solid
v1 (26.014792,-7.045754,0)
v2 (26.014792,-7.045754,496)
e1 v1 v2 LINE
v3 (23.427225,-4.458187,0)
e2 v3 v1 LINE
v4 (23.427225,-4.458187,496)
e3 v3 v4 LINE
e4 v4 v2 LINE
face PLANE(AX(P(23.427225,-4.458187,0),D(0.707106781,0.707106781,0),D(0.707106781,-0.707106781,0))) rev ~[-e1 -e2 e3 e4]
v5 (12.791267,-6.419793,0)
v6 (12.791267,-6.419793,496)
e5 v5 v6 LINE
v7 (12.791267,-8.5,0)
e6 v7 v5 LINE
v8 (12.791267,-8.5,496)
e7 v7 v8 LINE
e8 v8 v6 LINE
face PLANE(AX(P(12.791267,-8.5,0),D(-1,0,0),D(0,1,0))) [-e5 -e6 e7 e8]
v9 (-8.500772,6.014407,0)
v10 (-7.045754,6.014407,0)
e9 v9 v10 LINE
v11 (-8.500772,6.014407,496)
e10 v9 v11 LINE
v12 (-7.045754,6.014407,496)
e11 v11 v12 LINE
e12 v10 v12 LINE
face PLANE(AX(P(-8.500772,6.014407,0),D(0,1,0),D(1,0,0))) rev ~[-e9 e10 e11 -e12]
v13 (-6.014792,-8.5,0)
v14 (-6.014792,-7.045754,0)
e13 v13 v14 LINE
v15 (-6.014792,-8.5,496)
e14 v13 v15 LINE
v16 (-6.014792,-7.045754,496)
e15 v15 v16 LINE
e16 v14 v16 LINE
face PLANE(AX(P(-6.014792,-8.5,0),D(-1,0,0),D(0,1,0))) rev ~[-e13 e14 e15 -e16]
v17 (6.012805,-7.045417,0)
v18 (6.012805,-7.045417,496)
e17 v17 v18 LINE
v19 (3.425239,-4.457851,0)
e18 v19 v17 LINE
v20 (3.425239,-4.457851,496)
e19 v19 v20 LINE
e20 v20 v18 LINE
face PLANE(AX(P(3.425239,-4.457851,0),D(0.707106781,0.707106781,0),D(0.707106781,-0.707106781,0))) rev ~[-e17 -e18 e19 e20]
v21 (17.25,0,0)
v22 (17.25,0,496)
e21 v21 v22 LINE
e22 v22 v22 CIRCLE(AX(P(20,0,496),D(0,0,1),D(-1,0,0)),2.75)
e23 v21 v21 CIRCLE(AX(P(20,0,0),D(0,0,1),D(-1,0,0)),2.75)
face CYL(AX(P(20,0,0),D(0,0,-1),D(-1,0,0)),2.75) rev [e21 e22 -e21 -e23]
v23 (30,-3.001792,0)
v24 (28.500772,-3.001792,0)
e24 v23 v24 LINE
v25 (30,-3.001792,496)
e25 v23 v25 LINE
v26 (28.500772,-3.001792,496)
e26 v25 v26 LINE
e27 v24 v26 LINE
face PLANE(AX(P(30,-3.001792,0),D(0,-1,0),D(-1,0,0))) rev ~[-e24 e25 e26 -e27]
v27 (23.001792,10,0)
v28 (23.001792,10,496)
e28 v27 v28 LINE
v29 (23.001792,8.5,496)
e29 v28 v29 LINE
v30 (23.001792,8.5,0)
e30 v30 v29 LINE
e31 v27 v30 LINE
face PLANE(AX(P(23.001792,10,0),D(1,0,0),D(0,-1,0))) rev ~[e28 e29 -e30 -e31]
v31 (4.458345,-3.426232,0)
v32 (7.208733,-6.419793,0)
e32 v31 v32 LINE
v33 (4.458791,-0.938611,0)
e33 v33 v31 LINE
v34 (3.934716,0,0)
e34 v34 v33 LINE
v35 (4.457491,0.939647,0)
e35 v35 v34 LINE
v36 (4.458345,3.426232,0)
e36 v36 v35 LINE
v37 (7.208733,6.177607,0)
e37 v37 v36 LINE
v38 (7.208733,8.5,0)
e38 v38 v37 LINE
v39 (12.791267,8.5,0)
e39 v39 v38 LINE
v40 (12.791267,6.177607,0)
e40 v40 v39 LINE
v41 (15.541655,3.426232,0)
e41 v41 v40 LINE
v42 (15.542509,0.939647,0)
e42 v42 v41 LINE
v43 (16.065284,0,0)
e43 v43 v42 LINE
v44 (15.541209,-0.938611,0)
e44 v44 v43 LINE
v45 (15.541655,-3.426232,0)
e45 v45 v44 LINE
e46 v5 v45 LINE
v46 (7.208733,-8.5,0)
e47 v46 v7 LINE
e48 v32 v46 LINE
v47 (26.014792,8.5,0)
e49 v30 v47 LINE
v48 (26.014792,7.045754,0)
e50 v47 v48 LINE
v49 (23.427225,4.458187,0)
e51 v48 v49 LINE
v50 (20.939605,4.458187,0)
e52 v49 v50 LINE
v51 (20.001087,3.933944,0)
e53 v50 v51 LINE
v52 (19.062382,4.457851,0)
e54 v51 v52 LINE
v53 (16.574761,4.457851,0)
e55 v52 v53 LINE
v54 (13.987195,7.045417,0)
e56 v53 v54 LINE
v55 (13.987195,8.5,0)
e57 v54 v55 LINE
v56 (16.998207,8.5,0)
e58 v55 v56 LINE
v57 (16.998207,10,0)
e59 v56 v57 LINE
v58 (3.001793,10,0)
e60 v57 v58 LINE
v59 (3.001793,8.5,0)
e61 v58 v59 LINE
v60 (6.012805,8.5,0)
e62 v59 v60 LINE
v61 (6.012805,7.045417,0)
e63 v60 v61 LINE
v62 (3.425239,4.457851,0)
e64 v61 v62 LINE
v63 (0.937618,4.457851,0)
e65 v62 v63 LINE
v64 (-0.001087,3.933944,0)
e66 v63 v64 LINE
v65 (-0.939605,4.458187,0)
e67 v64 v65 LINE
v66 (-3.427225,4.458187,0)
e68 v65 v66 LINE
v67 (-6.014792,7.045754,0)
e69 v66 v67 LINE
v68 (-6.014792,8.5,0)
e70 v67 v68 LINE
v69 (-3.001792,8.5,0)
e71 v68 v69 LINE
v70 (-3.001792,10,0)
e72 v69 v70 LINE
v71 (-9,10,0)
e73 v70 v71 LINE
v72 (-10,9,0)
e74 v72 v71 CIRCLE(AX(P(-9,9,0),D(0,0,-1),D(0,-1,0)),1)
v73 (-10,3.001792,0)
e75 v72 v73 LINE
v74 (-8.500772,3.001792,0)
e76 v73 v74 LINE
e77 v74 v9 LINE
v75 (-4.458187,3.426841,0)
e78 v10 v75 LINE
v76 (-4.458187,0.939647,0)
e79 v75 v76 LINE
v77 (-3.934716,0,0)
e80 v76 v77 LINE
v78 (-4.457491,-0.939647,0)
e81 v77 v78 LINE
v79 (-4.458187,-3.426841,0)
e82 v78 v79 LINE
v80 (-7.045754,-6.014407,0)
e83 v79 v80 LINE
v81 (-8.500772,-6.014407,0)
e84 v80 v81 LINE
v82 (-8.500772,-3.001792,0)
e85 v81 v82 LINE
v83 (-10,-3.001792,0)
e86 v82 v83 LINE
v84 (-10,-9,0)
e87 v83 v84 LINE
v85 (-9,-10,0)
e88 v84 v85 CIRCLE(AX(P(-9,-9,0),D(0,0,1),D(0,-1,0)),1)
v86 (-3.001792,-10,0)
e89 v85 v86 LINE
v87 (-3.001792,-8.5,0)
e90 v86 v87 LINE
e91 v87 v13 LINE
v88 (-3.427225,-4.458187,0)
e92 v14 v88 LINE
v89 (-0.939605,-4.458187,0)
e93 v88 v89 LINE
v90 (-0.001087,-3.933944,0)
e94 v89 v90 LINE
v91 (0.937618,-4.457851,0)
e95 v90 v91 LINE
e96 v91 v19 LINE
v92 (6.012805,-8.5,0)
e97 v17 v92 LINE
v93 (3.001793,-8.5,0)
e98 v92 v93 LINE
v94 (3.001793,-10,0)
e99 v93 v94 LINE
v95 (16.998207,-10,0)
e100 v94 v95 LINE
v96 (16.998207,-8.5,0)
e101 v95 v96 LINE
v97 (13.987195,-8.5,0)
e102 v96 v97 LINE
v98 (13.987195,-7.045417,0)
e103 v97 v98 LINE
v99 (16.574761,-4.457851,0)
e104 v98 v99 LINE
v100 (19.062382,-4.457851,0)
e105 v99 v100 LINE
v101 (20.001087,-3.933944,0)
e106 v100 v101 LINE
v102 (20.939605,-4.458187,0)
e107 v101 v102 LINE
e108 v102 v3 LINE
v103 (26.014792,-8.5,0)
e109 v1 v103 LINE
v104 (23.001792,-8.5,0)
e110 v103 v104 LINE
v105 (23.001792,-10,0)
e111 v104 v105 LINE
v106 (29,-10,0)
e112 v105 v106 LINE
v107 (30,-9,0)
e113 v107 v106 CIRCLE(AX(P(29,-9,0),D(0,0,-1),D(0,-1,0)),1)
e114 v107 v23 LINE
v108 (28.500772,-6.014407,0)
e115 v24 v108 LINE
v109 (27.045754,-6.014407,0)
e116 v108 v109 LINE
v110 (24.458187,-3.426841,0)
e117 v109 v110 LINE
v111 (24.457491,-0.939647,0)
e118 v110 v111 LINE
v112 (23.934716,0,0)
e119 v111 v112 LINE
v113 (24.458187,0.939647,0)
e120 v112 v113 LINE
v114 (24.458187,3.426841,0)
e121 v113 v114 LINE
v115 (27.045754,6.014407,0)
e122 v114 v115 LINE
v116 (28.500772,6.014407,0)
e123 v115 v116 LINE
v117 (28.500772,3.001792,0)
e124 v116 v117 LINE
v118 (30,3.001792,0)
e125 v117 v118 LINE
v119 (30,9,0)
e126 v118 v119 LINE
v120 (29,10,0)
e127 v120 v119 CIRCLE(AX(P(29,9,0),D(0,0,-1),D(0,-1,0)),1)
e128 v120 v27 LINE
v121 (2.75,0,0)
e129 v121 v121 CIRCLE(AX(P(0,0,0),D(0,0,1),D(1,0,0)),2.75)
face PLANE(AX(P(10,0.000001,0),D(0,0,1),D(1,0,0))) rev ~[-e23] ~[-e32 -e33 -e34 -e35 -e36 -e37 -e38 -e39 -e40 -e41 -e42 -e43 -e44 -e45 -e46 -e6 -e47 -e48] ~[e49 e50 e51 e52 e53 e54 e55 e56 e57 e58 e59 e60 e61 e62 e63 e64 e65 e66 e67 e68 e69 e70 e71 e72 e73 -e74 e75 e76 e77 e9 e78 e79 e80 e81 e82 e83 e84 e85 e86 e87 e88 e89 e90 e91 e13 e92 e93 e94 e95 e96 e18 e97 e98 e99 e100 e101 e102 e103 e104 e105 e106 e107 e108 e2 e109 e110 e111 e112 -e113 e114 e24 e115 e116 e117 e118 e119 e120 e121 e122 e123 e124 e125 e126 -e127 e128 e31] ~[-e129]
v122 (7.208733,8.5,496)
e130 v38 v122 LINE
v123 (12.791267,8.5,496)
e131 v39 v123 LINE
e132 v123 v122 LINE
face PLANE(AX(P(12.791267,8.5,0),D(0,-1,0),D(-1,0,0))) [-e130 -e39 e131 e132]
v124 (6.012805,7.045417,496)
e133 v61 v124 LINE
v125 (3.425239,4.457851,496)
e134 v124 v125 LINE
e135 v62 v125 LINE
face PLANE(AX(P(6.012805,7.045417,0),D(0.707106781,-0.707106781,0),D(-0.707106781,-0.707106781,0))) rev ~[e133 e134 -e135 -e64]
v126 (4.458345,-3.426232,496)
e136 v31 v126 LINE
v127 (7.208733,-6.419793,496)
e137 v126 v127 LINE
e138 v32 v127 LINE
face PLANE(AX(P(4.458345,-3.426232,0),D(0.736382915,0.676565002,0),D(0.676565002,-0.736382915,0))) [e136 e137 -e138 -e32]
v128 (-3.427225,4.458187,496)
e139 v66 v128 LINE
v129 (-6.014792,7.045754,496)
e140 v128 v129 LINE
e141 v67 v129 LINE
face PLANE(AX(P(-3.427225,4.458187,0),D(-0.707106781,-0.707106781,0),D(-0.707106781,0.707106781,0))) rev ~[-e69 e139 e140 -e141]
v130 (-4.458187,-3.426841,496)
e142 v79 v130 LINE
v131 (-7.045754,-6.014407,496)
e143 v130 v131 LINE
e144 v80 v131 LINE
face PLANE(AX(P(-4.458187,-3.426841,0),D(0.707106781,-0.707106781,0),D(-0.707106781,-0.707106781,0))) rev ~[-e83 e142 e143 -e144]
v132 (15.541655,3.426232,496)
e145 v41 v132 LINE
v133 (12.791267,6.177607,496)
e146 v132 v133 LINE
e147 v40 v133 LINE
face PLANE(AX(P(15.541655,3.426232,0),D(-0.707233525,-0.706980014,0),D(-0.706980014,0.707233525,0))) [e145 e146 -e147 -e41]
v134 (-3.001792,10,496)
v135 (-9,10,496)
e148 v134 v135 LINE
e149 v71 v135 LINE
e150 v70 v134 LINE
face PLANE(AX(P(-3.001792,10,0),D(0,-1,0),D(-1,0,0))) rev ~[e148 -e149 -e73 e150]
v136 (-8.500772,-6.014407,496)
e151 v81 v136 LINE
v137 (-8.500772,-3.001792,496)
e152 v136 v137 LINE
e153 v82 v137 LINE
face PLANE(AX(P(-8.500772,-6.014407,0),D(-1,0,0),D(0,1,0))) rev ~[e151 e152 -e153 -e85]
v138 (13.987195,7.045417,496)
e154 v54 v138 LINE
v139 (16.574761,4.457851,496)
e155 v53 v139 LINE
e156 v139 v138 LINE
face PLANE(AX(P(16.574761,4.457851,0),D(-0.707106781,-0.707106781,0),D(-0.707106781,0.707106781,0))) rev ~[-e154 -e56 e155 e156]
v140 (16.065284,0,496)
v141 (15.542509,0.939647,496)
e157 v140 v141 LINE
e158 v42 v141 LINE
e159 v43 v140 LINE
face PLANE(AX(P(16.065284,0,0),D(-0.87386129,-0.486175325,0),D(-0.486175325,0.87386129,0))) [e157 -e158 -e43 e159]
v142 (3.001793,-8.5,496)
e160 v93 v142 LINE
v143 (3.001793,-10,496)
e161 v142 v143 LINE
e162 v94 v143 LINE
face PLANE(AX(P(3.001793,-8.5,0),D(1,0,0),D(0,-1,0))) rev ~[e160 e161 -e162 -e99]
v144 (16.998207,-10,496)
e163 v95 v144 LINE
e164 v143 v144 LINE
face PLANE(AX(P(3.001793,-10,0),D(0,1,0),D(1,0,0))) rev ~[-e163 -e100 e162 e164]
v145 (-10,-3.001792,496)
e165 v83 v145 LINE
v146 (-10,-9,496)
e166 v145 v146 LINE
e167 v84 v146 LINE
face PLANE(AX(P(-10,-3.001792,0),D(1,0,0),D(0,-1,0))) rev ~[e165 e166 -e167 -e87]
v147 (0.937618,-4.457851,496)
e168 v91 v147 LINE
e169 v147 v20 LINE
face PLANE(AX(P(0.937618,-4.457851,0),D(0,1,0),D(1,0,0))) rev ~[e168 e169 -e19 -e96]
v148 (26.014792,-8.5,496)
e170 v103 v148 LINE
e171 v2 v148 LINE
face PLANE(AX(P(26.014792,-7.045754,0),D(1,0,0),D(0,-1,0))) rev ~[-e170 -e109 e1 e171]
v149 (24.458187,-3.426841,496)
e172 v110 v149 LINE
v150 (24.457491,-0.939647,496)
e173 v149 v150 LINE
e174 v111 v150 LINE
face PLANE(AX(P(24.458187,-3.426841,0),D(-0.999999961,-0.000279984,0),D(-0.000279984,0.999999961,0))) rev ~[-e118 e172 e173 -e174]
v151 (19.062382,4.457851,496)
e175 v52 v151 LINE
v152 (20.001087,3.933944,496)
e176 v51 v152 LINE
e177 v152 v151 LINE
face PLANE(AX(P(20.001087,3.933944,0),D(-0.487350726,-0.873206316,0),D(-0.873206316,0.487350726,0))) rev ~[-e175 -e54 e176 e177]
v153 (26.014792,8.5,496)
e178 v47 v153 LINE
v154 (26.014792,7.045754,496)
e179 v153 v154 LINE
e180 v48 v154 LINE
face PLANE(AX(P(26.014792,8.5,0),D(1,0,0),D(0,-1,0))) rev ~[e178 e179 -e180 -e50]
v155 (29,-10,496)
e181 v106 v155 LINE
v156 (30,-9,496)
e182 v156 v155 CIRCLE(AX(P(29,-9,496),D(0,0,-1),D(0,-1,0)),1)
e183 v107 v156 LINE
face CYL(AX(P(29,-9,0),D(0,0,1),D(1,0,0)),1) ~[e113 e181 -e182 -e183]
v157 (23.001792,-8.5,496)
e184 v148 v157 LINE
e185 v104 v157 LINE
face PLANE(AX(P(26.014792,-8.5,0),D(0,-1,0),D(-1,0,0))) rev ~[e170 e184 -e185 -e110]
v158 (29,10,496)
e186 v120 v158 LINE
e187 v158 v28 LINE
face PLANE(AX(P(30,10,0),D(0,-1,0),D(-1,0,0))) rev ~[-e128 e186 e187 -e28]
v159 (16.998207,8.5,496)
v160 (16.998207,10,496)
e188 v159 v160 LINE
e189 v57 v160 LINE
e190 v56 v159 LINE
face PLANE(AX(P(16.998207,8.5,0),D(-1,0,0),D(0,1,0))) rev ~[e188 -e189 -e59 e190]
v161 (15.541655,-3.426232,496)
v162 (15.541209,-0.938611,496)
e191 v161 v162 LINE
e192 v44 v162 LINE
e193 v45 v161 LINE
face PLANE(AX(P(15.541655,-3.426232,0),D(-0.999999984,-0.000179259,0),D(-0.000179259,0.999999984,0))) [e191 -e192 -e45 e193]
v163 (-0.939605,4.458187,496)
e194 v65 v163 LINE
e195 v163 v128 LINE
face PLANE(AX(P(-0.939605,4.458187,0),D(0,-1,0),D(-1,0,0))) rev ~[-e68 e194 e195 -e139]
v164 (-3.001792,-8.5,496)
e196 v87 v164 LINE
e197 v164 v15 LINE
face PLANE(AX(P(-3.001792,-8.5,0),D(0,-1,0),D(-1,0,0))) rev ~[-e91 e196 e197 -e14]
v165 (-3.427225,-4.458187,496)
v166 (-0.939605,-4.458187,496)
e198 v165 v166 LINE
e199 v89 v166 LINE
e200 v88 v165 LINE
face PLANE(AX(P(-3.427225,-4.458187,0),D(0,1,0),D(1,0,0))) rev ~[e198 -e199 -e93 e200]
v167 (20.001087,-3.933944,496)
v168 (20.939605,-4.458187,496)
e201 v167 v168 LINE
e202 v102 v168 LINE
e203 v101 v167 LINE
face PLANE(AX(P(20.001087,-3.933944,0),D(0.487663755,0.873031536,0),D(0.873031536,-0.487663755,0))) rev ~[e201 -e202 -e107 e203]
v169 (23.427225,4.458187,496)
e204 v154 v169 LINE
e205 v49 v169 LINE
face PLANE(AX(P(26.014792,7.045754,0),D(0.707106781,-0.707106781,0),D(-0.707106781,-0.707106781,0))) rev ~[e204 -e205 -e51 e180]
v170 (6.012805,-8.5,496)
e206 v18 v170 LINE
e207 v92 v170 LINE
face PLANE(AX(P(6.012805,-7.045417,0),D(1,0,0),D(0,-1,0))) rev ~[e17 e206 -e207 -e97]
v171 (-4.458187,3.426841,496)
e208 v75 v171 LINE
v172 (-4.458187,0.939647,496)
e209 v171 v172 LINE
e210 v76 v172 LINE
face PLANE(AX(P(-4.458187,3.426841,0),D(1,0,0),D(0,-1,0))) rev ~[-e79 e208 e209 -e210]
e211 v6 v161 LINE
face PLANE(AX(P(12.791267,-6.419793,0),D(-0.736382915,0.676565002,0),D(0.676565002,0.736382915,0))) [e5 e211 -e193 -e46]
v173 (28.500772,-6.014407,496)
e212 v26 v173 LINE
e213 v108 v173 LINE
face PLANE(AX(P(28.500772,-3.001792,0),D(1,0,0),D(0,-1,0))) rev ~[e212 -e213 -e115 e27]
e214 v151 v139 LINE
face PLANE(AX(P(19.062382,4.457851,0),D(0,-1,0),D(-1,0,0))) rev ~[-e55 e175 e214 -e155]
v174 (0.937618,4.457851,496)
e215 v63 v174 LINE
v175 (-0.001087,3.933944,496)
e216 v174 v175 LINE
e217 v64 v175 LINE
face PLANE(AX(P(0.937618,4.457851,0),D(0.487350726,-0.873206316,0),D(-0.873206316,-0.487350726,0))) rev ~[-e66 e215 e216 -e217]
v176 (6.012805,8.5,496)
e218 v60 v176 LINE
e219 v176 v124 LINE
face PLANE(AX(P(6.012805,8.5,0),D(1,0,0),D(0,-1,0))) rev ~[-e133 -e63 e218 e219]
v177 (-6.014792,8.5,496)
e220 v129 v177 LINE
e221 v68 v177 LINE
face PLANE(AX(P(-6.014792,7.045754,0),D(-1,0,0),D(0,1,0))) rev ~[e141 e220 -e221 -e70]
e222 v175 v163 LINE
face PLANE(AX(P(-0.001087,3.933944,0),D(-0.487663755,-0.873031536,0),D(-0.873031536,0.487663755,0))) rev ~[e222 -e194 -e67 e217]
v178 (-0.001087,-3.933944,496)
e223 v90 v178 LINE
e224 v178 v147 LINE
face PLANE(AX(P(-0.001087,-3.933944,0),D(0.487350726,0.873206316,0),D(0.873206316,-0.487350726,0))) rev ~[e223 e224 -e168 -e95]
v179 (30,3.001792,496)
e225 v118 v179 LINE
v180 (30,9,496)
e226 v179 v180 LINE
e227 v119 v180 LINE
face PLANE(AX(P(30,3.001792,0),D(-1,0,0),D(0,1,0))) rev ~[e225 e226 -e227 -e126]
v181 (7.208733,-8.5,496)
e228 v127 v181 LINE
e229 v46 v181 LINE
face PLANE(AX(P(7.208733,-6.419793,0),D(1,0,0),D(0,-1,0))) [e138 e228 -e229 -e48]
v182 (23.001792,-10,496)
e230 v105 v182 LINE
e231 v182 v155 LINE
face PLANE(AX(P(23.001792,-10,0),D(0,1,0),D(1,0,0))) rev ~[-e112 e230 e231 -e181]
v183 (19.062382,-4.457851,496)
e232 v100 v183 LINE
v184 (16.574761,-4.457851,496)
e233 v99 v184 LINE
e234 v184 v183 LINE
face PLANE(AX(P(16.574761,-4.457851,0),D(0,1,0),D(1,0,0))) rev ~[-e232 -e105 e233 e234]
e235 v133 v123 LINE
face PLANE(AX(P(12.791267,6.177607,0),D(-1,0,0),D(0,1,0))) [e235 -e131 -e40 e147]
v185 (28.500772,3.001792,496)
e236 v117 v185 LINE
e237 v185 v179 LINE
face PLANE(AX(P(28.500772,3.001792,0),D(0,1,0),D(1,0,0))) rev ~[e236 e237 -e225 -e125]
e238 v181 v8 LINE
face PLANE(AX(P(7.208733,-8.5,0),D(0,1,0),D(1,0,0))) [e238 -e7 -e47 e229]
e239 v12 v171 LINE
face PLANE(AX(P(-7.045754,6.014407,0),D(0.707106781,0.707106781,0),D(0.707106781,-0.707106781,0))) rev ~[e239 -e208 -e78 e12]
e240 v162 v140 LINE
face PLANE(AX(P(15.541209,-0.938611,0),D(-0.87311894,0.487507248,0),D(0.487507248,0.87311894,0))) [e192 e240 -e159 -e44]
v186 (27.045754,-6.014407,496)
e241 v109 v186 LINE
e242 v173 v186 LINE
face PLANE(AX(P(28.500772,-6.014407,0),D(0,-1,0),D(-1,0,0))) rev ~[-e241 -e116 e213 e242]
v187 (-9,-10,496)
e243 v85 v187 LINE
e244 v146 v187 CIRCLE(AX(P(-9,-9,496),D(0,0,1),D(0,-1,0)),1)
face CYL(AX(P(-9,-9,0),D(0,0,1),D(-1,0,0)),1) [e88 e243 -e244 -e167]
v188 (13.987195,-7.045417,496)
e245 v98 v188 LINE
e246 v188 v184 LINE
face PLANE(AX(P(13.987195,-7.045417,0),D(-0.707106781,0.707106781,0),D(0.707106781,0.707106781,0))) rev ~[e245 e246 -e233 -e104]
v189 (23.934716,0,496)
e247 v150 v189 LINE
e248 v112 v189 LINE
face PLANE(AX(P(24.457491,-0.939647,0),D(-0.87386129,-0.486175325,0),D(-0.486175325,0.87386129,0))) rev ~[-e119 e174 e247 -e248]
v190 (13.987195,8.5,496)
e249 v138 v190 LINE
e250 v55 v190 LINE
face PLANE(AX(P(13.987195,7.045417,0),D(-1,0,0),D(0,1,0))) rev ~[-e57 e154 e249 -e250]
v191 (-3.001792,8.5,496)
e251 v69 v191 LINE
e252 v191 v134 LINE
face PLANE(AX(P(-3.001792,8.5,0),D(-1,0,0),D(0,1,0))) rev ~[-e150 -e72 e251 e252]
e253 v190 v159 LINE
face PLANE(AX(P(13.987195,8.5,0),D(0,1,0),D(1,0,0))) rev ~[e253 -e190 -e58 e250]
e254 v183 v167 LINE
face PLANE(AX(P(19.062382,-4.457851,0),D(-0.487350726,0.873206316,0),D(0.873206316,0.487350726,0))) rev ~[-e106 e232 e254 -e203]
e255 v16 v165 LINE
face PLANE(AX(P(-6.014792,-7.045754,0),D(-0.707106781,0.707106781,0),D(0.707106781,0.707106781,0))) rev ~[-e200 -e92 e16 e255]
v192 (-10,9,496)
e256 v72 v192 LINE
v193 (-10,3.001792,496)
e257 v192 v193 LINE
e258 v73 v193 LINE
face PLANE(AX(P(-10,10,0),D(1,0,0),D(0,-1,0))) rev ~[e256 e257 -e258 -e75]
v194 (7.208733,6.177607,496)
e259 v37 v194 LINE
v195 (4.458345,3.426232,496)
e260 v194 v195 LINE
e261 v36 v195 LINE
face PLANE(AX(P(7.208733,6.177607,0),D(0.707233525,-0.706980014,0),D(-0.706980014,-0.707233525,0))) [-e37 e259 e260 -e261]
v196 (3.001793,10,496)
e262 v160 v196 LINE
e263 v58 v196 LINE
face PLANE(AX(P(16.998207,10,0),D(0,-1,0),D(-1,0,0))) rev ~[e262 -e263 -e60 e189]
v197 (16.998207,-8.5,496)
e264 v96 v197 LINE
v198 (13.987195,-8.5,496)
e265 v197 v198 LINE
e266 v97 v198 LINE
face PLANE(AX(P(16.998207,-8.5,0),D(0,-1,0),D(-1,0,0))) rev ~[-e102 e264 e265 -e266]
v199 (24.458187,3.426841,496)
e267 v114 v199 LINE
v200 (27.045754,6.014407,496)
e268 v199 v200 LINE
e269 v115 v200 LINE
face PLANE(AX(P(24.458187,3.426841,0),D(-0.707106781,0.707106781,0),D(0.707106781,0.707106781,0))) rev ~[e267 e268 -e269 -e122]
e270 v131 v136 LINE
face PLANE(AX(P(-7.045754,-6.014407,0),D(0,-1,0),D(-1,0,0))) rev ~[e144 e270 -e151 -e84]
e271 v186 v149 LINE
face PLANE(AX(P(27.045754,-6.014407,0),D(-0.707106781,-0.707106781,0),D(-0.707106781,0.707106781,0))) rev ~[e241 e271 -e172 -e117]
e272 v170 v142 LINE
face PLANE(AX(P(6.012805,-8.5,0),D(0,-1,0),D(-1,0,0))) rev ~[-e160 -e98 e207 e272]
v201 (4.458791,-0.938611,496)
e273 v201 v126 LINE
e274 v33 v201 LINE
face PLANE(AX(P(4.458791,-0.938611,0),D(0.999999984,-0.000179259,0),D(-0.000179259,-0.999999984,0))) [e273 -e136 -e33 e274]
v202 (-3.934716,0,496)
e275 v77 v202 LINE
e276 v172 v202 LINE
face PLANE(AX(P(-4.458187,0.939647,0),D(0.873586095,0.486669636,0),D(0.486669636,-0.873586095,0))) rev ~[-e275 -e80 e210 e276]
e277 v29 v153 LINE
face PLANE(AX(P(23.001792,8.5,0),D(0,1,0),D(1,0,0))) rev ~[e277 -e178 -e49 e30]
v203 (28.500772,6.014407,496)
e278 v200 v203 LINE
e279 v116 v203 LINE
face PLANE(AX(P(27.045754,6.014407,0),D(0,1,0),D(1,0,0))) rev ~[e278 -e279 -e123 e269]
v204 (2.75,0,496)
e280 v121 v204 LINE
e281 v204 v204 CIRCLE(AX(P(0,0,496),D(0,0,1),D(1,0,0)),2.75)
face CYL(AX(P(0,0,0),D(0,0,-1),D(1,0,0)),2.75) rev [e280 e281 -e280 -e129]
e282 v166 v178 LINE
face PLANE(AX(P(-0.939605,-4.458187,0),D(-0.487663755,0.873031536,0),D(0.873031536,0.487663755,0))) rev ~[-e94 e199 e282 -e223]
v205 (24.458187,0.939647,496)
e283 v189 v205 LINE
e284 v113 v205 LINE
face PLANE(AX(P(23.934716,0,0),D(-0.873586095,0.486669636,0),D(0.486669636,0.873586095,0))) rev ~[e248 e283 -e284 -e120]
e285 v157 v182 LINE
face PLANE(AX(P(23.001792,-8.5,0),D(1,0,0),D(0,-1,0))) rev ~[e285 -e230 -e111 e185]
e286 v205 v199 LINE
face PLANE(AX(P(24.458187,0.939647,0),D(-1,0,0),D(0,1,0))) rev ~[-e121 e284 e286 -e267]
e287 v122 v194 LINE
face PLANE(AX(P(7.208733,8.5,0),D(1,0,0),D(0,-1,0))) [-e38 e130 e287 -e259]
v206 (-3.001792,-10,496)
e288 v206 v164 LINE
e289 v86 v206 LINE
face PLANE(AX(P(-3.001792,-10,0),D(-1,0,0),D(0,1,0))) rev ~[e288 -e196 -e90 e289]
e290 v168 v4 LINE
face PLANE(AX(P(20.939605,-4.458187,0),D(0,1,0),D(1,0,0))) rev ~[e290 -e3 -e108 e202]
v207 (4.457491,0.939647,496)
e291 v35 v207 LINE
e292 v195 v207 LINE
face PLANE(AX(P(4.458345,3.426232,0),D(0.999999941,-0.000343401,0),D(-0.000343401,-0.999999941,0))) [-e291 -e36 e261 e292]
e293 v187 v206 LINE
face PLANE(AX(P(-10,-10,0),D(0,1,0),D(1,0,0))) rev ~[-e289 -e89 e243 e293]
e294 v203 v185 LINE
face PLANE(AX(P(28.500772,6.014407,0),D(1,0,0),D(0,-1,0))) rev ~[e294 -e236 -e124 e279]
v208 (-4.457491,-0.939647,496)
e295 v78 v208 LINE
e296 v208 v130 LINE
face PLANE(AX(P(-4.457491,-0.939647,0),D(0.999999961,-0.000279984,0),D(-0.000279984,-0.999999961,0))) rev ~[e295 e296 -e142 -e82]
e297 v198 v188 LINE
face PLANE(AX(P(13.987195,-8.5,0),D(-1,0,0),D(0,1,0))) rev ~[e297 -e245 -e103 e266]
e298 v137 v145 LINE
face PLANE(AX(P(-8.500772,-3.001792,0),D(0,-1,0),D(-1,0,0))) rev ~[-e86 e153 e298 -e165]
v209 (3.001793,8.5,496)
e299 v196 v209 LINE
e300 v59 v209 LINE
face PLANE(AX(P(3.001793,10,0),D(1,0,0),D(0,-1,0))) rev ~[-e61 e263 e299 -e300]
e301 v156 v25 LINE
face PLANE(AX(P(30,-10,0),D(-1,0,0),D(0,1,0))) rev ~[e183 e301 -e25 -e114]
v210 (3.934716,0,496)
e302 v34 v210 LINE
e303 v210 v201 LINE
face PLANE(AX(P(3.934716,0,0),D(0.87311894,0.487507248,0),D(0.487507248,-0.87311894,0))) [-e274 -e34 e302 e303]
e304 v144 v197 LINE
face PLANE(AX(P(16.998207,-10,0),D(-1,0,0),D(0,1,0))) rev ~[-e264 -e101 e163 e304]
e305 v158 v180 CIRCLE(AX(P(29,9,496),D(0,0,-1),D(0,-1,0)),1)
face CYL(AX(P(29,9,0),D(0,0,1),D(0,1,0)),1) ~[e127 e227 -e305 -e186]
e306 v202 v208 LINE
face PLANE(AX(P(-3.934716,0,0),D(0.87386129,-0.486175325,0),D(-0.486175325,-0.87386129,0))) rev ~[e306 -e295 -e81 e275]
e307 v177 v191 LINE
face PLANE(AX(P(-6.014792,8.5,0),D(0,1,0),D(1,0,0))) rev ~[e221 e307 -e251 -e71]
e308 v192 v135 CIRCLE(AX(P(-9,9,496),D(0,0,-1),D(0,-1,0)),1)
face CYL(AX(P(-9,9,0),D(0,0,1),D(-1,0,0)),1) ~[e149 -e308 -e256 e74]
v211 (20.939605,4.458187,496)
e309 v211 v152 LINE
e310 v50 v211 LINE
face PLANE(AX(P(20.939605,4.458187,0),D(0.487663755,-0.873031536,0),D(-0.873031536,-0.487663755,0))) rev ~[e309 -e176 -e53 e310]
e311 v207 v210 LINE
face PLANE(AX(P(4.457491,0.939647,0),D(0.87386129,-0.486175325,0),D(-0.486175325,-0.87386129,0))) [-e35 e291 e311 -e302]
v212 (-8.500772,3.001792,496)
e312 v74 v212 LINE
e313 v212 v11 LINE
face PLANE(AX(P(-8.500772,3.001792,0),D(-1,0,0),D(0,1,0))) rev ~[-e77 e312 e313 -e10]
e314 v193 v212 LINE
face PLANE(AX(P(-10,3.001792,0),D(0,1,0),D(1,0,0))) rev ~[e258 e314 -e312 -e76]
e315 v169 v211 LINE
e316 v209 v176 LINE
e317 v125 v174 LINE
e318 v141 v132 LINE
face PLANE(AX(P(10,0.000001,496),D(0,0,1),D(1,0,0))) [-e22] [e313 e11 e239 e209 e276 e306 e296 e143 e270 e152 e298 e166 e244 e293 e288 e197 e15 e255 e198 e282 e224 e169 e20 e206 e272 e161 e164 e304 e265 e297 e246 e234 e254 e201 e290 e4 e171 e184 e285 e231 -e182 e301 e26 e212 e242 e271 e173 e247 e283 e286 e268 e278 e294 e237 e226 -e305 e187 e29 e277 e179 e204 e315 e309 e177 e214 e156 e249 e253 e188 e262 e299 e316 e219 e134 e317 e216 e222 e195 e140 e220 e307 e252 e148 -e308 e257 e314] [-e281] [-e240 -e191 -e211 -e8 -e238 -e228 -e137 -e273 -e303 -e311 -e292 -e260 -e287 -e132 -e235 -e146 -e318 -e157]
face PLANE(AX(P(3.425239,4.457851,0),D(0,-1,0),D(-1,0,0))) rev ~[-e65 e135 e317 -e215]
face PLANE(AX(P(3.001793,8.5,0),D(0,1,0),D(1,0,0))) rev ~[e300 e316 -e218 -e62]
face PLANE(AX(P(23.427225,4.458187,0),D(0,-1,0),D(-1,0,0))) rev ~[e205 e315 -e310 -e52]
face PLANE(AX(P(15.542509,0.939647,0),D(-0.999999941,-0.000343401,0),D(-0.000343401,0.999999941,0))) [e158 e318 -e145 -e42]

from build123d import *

# Parameters (mm, degrees)
SKETCH1_R           = 2.75
BOSS_EXTRUDE1_DEPTH = 496
FILLET2_R           = 1
FILLET4_R           = 1
FILLET5_R           = 1
FILLET6_R           = 1


with BuildPart() as part:
    # Sketch1 → Boss-Extrude1 (new body)
    with BuildSketch(Plane.XY):
        Polygon((-3.001792446, 10), (-10, 10), (-10, 3.001792446), (-8.500771543, 3.001792446), (-8.500771543, 6.014407427), (-7.045753692, 6.014407427), (-4.458187435, 3.426841169), (-4.458187435, 0.939646666), (-3.934715846, 0), (-4.45749106, -0.939646666), (-4.458187435, -3.426841169), (-7.045753692, -6.014407427), (-8.500771543, -6.014407427), (-8.500771543, -3.001792446), (-10, -3.001792446), (-10, -10), (-3.001792446, -10), (-3.001792446, -8.499999951), (-6.014791508, -8.499999951), (-6.014791508, -7.045753643), (-3.427225251, -4.458187385), (-0.939604714, -4.458187385), (-0.00108721, -3.933944043), (0.937618184, -4.457850876), (3.425238721, -4.457850876), (6.012804978, -7.045417133), (6.012804978, -8.500000007), (3.001792545, -8.500000007), (3.001792545, -10), (16.998207455, -10), (16.998207455, -8.500000007), (13.987195022, -8.500000007), (13.987195022, -7.045417133), (16.574761279, -4.457850876), (19.062381816, -4.457850876), (20.00108721, -3.933944043), (20.939604714, -4.458187385), (23.427225251, -4.458187385), (26.014791508, -7.045753643), (26.014791508, -8.499999951), (23.001792446, -8.499999951), (23.001792446, -10), (30, -10), (30, -3.001792446), (28.500771543, -3.001792446), (28.500771543, -6.014407427), (27.045753692, -6.014407427), (24.458187435, -3.426841169), (24.45749106, -0.939646666), (23.934715846, 0), (24.458187435, 0.939646666), (24.458187435, 3.426841169), (27.045753692, 6.014407427), (28.500771543, 6.014407427), (28.500771543, 3.001792446), (30, 3.001792446), (30, 10), (23.001792446, 10), (23.001792446, 8.499999951), (26.014791508, 8.499999951), (26.014791508, 7.045753643), (23.427225251, 4.458187385), (20.939604714, 4.458187385), (20.00108721, 3.933944043), (19.062381816, 4.457850876), (16.574761279, 4.457850876), (13.987195022, 7.045417133), (13.987195022, 8.499999951), (16.998207356, 8.499999951), (16.998207356, 10), (3.001792643, 10), (3.001792643, 8.499999951), (6.012804978, 8.499999951), (6.012804978, 7.045417133), (3.425238721, 4.457850876), (0.937618184, 4.457850876), (-0.00108721, 3.933944043), (-0.939604714, 4.458187385), (-3.427225251, 4.458187385), (-6.014791508, 7.045753643), (-6.014791508, 8.499999951), (-3.001792446, 8.499999951), align=None)
        Circle(SKETCH1_R, mode=Mode.SUBTRACT)
        with Locations(Location((20, 0, 0), (0, 0, 180))):
            Circle(SKETCH1_R, mode=Mode.SUBTRACT)
        Polygon((7.208733292, -6.419793455), (7.208733292, -8.500000007), (12.791266708, -8.500000007), (12.791266708, -6.419793455), (15.541654987, -3.426231961), (15.541209058, -0.938611464), (16.065284154, 0), (15.54250894, 0.939646666), (15.541655044, 3.426231961), (12.791266708, 6.17760654), (12.791266708, 8.499999951), (7.208733292, 8.499999951), (7.208733292, 6.17760654), (4.458344956, 3.426231961), (4.45749106, 0.939646666), (3.934715846, 0), (4.458790942, -0.938611464), (4.458345013, -3.426231961), align=None, mode=Mode.SUBTRACT)
    extrude(amount=BOSS_EXTRUDE1_DEPTH)

    # Fillet2
    fillet2_edges = [part.edges().sort_by_distance(p)[0] for p in [
        (-10, -10, 248),
    ]]
    fillet(fillet2_edges, radius=FILLET2_R)

    # Fillet4
    fillet4_edges = [part.edges().sort_by_distance(p)[0] for p in [
        (-10, 10, 248),
    ]]
    fillet(fillet4_edges, radius=FILLET4_R)

    # Fillet5
    fillet5_edges = [part.edges().sort_by_distance(p)[0] for p in [
        (30, 10, 248),
    ]]
    fillet(fillet5_edges, radius=FILLET5_R)

    # Fillet6
    fillet6_edges = [part.edges().sort_by_distance(p)[0] for p in [
        (30, -10, 248),
    ]]
    fillet(fillet6_edges, radius=FILLET6_R)


solid = part.part
